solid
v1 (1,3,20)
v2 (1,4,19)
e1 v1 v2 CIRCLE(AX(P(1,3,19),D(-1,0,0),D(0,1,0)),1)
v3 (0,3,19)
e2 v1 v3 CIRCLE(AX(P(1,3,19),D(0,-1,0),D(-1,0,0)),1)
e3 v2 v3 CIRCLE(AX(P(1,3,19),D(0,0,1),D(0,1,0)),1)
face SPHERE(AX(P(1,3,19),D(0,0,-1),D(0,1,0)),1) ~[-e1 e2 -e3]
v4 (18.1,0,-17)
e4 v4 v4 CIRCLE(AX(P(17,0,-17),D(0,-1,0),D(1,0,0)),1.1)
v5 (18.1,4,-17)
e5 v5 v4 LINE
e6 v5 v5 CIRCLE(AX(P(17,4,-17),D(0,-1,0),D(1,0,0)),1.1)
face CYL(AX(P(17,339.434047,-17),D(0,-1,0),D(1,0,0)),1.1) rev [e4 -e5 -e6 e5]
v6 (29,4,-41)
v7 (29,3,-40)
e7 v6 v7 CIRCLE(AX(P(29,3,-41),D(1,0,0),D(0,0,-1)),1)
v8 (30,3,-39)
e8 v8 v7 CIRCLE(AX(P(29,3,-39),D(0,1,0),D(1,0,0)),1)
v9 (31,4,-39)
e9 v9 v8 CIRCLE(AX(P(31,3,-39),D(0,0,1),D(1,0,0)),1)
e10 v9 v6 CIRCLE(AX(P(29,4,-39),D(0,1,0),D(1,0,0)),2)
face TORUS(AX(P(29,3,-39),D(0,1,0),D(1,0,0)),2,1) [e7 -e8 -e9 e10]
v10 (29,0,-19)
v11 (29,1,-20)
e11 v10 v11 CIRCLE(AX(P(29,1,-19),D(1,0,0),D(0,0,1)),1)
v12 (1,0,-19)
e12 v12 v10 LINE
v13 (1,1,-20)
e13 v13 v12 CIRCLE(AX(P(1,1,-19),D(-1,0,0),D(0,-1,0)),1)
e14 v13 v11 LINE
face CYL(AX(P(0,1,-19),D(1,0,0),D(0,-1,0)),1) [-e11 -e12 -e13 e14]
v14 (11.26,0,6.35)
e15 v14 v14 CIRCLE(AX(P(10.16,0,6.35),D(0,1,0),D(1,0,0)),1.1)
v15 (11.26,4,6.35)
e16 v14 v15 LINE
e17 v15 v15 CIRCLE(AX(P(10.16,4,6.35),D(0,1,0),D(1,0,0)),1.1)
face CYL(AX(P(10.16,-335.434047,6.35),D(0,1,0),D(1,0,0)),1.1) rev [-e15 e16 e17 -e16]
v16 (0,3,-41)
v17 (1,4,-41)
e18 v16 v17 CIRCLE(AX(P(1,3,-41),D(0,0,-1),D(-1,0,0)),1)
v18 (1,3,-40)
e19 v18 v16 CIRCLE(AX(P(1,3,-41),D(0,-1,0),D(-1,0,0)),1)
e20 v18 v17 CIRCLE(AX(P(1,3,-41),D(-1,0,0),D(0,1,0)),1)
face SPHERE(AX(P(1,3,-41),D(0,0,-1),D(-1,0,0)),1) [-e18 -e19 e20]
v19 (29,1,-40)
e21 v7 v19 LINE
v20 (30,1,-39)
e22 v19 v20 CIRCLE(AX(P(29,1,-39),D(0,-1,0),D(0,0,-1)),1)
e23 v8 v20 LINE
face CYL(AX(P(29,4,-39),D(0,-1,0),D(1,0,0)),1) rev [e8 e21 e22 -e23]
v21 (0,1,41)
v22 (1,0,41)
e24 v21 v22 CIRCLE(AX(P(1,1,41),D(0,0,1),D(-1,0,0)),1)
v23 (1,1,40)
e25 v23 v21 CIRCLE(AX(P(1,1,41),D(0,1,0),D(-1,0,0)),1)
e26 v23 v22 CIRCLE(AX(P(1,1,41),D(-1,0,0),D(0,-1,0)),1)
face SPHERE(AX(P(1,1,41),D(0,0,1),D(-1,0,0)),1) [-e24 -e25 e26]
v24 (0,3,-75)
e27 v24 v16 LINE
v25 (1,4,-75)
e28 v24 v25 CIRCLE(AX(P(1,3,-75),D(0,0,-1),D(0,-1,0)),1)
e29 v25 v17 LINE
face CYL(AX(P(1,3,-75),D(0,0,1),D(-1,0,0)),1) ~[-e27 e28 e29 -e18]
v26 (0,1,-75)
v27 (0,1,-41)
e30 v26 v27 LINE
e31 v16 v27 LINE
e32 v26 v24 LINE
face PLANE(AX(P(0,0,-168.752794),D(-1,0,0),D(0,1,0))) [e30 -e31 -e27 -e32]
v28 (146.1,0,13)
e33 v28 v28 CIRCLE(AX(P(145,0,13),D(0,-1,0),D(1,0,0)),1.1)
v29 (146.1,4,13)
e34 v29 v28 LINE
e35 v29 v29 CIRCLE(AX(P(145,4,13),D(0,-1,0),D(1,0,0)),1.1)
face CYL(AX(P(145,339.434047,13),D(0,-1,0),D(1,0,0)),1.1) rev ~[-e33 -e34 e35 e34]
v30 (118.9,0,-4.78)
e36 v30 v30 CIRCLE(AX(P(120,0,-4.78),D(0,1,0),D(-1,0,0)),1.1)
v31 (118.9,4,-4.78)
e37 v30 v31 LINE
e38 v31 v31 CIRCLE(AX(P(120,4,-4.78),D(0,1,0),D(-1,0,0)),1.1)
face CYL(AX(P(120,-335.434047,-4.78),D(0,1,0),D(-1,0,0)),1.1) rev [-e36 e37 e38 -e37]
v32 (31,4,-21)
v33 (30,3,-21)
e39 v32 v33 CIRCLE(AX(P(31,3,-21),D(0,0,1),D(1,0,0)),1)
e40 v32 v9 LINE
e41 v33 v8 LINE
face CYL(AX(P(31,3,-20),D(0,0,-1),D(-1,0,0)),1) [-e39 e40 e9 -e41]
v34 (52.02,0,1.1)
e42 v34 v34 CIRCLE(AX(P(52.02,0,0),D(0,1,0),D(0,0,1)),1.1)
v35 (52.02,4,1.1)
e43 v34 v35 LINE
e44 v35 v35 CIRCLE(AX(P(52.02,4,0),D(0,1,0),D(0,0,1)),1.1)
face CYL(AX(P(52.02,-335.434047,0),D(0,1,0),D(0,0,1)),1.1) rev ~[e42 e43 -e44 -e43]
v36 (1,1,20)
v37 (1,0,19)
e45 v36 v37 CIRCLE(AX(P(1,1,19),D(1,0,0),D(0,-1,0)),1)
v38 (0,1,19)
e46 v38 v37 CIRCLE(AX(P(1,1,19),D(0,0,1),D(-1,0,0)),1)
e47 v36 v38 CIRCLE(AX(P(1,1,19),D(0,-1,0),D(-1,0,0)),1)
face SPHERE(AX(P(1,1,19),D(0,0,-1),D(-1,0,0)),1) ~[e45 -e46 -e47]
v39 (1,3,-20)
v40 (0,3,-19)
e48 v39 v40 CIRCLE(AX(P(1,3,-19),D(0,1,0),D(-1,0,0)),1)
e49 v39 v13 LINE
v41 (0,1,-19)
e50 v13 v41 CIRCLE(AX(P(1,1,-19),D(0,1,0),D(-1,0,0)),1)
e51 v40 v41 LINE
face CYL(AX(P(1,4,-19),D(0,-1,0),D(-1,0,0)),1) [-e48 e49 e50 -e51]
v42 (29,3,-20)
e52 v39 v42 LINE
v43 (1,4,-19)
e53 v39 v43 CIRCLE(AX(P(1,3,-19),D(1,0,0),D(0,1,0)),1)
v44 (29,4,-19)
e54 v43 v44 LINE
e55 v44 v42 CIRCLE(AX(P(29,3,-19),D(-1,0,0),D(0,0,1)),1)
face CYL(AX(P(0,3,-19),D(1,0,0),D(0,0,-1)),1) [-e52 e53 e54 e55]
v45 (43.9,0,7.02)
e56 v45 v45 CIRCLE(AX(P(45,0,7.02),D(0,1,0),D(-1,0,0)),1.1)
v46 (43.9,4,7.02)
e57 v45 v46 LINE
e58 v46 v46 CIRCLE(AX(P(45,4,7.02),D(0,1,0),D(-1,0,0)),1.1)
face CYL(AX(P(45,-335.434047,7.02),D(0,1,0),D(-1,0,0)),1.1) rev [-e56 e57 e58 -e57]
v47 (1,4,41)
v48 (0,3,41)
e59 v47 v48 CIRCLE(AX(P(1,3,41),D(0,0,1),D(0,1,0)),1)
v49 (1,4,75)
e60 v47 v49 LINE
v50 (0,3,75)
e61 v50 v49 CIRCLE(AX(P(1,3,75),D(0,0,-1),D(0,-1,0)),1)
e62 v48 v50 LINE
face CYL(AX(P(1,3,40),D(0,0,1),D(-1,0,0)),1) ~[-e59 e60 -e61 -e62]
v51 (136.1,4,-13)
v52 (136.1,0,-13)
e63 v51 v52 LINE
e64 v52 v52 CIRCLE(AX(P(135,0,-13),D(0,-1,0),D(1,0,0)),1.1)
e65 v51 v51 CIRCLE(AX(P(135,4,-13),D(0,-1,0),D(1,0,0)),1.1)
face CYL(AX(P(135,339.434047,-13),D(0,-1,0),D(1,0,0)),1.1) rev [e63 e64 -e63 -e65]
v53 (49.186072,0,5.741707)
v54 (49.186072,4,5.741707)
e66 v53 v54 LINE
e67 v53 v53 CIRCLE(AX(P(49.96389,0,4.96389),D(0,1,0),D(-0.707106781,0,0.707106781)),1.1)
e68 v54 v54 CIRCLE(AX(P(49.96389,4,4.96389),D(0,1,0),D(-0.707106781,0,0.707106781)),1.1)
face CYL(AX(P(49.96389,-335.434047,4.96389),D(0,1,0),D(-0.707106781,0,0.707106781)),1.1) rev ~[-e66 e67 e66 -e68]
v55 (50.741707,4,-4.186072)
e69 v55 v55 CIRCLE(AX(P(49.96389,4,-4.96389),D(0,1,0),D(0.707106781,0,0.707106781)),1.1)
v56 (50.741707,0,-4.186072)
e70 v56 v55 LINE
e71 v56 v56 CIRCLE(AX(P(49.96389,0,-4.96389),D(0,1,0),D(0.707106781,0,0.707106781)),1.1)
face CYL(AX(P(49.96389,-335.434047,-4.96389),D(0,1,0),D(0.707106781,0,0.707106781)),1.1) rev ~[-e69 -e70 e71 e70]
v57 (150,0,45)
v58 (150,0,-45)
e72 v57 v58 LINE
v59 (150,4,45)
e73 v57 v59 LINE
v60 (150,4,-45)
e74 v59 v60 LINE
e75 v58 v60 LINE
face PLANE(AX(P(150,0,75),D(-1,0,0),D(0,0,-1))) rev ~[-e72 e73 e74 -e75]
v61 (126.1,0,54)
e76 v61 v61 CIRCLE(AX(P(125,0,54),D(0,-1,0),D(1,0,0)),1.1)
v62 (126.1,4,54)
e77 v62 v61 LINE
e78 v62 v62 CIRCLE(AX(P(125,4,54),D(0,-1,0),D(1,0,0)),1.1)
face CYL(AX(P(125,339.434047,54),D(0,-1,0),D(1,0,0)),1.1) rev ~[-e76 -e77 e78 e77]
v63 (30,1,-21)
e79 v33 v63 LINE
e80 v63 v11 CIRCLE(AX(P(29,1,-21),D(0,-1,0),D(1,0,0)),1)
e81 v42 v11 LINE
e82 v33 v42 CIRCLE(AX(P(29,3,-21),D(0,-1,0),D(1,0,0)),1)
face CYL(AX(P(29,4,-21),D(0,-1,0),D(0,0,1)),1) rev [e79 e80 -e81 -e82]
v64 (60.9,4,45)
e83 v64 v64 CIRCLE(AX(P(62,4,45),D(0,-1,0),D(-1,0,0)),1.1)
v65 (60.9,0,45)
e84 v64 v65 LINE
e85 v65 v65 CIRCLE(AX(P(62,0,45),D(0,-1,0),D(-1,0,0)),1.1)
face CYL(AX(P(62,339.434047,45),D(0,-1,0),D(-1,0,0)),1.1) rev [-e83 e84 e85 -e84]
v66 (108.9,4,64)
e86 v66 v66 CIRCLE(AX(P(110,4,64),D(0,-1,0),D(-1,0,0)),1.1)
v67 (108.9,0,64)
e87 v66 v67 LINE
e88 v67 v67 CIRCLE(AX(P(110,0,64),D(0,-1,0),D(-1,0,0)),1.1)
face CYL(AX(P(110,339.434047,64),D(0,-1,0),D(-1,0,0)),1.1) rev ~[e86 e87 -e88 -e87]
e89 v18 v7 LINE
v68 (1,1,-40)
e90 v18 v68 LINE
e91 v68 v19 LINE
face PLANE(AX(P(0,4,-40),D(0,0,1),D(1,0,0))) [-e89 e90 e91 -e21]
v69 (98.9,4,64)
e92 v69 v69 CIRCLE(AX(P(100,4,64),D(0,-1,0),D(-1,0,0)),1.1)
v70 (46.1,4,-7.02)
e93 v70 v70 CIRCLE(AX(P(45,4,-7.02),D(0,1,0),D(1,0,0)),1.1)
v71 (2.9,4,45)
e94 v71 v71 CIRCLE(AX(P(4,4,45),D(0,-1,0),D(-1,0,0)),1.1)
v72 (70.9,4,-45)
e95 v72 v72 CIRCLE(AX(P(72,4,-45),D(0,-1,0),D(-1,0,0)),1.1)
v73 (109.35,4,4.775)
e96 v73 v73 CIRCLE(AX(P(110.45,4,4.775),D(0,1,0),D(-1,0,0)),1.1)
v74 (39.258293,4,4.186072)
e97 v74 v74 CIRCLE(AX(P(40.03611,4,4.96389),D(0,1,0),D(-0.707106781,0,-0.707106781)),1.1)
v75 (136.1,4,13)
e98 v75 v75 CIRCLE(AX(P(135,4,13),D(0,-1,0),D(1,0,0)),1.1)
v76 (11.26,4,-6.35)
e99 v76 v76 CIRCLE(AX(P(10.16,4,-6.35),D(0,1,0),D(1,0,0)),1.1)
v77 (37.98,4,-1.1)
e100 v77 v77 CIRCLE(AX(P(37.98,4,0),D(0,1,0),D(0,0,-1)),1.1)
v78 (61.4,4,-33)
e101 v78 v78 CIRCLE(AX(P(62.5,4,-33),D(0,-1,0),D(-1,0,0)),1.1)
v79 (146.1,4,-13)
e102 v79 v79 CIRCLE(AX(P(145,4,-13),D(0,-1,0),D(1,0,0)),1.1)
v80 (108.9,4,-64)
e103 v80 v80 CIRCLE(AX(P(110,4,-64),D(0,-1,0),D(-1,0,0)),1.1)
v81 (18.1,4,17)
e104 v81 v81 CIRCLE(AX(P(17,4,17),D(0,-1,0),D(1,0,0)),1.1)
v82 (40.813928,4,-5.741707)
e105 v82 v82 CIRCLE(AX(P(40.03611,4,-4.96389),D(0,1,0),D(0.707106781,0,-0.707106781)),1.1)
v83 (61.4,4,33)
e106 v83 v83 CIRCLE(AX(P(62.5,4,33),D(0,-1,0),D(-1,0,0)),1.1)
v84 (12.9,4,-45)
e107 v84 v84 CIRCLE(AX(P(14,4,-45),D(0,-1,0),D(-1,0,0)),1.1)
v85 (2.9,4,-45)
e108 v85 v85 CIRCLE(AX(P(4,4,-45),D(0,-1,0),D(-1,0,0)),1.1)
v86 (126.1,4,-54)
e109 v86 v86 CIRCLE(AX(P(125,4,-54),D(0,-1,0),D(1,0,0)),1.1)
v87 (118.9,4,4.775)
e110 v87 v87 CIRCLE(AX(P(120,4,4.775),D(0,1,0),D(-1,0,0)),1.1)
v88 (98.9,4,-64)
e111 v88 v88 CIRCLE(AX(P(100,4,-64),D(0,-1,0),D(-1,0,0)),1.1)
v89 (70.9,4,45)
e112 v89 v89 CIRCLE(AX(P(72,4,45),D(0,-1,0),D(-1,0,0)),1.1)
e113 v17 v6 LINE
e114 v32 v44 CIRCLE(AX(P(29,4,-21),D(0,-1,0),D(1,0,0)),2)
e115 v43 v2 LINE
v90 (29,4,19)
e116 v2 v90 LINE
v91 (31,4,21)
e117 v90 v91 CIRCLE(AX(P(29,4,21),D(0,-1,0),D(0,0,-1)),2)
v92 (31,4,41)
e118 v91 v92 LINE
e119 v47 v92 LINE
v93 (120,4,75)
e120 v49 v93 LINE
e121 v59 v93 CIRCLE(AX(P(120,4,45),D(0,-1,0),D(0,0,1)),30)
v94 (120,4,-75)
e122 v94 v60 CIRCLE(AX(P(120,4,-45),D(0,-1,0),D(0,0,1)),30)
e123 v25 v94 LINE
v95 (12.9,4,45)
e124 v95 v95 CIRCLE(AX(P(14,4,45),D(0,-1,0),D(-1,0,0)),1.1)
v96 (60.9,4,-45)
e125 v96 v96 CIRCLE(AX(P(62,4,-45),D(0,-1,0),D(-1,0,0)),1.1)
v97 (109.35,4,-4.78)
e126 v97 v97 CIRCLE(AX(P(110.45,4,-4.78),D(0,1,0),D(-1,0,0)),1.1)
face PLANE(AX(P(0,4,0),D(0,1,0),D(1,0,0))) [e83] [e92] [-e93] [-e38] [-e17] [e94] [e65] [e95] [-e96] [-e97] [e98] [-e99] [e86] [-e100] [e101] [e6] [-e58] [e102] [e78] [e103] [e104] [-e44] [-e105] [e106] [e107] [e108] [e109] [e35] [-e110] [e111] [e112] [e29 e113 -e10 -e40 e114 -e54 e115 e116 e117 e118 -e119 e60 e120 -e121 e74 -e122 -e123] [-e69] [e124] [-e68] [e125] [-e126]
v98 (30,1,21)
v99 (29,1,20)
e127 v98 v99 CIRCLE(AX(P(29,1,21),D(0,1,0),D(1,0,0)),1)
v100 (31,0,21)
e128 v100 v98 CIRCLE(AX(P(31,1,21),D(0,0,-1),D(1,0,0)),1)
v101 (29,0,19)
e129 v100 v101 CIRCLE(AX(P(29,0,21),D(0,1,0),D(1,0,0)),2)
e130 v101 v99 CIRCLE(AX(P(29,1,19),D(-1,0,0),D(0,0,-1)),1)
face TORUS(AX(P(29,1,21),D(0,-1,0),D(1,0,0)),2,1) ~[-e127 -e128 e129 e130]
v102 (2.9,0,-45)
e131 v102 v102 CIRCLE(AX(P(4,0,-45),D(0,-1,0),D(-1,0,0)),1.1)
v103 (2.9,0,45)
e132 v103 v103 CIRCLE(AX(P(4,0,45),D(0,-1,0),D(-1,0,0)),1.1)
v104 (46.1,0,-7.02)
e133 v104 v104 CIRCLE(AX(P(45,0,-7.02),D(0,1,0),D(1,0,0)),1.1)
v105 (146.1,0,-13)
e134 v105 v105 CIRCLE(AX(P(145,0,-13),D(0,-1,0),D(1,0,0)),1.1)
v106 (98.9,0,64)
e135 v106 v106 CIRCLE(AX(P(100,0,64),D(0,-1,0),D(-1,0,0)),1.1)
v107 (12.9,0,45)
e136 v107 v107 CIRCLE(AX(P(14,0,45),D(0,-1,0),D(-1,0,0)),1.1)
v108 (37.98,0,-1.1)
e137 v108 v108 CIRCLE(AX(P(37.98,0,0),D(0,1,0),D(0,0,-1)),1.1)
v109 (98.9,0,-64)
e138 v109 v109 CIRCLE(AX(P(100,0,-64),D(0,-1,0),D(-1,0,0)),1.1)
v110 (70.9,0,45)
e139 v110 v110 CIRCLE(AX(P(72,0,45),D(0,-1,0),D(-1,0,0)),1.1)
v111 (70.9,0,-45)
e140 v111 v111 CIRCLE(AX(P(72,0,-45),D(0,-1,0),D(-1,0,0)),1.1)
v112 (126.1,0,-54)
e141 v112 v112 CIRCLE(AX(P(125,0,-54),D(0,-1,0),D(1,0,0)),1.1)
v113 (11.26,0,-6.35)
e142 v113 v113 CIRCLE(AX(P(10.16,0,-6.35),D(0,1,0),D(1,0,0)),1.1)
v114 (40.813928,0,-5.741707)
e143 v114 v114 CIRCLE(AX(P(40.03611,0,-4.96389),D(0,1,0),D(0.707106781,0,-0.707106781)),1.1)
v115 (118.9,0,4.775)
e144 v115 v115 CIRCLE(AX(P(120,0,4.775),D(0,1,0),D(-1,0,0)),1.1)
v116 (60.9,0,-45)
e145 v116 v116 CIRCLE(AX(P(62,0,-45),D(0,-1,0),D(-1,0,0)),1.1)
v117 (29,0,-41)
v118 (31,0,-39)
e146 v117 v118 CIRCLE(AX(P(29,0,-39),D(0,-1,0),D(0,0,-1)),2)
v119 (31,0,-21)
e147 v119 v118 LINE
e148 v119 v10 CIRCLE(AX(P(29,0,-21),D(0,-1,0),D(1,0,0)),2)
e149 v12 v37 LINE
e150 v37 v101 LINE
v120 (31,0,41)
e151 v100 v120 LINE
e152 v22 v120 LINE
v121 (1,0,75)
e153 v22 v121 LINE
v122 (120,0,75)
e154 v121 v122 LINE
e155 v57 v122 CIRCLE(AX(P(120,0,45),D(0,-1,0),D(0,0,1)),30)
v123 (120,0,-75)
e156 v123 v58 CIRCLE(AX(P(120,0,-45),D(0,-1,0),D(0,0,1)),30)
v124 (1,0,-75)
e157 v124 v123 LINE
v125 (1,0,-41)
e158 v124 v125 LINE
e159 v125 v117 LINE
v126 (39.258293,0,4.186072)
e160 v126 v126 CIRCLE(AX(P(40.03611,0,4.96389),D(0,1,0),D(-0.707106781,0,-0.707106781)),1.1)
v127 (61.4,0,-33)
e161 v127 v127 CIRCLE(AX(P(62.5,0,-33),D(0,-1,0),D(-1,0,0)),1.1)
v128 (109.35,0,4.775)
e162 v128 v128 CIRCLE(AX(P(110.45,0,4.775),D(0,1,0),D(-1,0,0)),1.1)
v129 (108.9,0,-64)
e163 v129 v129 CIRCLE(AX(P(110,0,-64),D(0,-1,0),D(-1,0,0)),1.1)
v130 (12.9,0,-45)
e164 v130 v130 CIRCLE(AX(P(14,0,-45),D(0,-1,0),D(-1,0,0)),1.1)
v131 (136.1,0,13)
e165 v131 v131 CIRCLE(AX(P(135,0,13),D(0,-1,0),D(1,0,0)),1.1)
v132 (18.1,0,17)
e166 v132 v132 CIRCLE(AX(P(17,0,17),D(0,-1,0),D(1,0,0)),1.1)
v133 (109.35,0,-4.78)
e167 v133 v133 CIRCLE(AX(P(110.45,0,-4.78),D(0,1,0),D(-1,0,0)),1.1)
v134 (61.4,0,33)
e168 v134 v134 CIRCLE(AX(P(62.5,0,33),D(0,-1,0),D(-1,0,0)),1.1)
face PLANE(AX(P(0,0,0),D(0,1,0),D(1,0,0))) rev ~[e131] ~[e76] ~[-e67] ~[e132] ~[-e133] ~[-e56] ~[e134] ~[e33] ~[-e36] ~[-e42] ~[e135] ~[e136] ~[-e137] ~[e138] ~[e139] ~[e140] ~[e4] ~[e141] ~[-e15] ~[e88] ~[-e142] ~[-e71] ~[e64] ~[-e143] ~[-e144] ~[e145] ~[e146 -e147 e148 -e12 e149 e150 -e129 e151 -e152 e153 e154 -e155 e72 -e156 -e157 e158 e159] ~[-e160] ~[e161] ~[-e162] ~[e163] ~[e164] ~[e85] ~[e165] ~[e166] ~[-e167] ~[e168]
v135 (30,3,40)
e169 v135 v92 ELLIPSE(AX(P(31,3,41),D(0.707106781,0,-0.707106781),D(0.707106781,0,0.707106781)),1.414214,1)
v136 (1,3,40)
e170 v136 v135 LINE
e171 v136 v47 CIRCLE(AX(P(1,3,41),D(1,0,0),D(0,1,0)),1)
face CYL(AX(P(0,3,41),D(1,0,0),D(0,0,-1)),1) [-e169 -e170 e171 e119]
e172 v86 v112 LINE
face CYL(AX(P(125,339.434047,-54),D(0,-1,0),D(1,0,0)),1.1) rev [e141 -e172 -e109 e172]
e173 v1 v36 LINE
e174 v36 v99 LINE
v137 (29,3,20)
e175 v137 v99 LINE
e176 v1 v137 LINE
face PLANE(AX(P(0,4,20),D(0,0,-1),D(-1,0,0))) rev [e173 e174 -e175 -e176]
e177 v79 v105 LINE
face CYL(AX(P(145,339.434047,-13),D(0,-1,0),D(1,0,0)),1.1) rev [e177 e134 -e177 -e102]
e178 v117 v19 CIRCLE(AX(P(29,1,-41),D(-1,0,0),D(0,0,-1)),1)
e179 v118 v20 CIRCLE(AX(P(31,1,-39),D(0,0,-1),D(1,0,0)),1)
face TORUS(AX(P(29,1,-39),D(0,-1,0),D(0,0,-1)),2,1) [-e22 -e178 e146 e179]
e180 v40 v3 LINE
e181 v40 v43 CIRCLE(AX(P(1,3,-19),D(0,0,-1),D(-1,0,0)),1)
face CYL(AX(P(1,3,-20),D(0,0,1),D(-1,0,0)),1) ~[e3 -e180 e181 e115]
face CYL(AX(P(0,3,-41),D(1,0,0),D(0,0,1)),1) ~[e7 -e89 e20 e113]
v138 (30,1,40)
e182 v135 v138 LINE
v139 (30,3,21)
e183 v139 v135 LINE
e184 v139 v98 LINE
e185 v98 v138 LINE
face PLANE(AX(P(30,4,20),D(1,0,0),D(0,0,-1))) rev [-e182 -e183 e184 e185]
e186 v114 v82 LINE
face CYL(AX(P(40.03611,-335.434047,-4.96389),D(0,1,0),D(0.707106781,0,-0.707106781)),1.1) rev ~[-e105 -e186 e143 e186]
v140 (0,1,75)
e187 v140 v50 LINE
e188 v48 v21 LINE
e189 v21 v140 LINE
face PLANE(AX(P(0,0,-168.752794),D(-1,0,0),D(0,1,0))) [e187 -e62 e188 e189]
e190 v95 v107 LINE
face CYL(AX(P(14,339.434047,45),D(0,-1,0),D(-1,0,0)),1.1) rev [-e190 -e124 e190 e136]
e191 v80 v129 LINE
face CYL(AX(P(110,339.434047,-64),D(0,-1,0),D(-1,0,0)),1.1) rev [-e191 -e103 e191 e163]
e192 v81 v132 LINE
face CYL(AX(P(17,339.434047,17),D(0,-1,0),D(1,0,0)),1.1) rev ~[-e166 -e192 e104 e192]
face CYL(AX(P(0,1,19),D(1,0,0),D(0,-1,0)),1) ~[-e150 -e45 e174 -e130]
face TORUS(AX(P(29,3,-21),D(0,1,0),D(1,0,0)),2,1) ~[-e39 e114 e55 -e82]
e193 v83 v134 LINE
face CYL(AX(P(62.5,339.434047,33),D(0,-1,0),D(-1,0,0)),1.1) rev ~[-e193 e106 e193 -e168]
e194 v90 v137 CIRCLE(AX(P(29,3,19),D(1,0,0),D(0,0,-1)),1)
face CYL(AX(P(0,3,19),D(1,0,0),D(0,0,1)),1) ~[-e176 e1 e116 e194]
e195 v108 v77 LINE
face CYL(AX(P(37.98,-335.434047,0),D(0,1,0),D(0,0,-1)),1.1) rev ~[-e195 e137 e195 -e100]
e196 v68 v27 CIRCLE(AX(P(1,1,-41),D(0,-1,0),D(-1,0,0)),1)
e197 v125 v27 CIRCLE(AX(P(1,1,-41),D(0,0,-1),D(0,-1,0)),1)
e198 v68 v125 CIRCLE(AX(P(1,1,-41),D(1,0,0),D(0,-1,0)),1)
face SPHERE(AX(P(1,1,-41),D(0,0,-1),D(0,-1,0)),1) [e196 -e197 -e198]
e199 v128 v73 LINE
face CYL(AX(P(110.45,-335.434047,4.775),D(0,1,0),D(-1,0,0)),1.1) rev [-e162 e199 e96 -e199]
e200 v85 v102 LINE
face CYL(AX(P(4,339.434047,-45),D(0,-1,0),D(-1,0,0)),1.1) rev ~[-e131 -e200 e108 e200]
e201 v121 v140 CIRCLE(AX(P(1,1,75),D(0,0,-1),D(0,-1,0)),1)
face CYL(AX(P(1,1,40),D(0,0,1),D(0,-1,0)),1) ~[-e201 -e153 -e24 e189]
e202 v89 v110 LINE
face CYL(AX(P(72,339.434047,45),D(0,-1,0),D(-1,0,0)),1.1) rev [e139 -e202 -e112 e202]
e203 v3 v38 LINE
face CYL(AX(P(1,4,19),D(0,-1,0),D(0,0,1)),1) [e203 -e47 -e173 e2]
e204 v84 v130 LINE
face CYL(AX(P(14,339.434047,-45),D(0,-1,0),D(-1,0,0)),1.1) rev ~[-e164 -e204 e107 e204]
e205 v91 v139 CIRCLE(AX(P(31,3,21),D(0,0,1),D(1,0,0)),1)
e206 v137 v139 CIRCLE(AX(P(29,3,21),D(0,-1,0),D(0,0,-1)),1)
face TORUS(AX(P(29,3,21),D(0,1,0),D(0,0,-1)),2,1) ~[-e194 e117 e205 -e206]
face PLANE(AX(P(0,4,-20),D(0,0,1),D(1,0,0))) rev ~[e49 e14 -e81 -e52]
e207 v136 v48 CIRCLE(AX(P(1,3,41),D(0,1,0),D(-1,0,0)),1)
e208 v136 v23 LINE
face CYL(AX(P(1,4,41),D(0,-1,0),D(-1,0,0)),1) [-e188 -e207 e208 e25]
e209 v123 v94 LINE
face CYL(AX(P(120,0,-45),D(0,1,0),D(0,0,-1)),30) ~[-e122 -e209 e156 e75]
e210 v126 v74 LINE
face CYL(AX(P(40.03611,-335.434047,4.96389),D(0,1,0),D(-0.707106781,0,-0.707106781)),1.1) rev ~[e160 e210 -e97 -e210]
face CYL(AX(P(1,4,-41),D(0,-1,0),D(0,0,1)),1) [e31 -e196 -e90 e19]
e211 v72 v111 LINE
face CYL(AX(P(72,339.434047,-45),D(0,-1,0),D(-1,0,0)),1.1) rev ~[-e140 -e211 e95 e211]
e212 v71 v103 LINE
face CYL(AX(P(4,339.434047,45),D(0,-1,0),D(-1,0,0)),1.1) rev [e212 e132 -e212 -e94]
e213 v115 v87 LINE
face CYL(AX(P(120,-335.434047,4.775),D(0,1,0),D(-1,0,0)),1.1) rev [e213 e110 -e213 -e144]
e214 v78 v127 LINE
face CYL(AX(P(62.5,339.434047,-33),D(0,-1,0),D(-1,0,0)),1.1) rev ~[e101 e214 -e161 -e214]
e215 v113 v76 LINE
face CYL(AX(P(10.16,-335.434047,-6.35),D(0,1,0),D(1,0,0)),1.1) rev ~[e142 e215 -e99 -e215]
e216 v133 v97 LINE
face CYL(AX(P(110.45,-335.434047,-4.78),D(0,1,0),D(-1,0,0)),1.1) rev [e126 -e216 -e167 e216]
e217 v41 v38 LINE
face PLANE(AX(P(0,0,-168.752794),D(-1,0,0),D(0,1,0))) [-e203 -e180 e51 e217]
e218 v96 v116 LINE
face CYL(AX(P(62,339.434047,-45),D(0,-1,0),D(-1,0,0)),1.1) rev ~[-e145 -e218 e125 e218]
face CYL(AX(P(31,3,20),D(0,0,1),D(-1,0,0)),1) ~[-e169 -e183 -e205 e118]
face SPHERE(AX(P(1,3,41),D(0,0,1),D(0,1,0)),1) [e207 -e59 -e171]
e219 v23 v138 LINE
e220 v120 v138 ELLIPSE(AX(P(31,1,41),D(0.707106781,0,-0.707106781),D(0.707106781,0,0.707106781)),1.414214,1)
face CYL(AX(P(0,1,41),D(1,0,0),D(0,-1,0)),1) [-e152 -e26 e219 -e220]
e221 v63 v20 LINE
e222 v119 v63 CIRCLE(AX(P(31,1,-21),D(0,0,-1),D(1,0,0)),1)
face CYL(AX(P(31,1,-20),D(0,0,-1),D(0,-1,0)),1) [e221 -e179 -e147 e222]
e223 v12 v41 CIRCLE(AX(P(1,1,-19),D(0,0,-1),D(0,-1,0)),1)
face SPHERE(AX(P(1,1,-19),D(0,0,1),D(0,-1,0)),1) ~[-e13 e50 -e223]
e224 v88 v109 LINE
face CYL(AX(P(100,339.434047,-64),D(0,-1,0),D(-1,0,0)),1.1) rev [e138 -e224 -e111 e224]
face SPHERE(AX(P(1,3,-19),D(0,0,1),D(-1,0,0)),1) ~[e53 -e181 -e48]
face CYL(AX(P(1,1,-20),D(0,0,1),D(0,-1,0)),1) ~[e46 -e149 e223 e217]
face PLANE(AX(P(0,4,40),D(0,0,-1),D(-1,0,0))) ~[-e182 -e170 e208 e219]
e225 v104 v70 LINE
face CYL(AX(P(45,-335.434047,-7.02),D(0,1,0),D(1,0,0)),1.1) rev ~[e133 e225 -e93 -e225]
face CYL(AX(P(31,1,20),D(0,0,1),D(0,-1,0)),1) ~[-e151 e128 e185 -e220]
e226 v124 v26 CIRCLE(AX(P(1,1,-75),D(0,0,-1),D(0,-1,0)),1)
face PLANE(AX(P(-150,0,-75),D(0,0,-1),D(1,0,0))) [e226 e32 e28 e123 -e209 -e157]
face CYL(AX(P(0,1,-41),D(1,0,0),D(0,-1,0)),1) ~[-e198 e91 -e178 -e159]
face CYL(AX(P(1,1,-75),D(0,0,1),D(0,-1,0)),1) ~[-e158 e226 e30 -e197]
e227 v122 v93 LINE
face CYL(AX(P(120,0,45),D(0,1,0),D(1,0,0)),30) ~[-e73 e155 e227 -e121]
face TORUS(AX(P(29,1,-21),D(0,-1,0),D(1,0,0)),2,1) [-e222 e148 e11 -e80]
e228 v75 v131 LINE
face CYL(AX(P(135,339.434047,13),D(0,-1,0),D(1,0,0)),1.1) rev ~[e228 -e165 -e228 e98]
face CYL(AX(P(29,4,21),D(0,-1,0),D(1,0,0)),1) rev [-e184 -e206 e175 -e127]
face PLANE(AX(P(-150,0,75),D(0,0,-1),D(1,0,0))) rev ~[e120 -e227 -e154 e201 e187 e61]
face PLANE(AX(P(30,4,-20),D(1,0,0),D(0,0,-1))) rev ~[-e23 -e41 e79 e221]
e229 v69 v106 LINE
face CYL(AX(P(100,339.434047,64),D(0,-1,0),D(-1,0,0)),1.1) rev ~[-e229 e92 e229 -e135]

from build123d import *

# Parameters (mm, degrees)
SKETCH_1_W                            = 300
SKETCH_1_H                            = 150
EXTRUDE_1_DEPTH                       = 4
FILLET_4_R                            = 30
FILLET_5_R                            = 30
FILLET_6_R                            = 30
FILLET_7_R                            = 30
HOLE_WIZARD_2_2_2_2_1_D               = 2.2
PATTERN_CIRCULAR_1_COUNT              = 8
MIRROR_1_COPY_1_D                     = 2.2
MIRROR_1_COPY_2_D                     = 2.2
MIRROR_1_COPY_3_D                     = 2.2
MIRROR_1_COPY_4_D                     = 2.2
MIRROR_1_COPY_5_D                     = 2.2
MIRROR_1_COPY_6_D                     = 2.2
MIRROR_1_COPY_7_D                     = 2.2
HOLE_WIZARD_2_2_2_2_2_D               = 2.2
HOLE_WIZARD_2_2_2_2_4_D               = 2.2
F_2_2_2_2_DIAMETER_HOLE1_D            = 2.2
MIRROR_5_AT_THE_SECOND_PLANE_COPY_1_D = 2.2
HOLE_WIZARD_2_2_2_2_6_D               = 2.2
F_2_2_2_2_DIAMETER_HOLE2_D            = 2.2
MIRROR_6_AT_THE_SECOND_PLANE_COPY_1_D = 2.2
F_2_2_2_2_DIAMETER_HOLE3_D            = 2.2
F_2_2_2_2_DIAMETER_HOLE4_D            = 2.2
MIRROR_8_AT_THE_SECOND_PLANE_COPY_1_D = 2.2
F_2_2_2_2_DIAMETER_HOLE5_D            = 2.2
MIRROR_9_AT_THE_SECOND_PLANE_COPY_1_D = 2.2
CUT_EXTRUDE_3_DEPTH                   = 168.752794314
CUT_EXTRUDE_3_DEPTH_BACK              = 168.752794314
SKETCH_25_W                           = 150
SKETCH_25_H                           = 4
SKETCH_28_W                           = 30
SKETCH_28_H                           = 20
CUT_EXTRUDE_4_DEPTH                   = 168.752794314
FILLET_8_R                            = 1


with BuildPart() as part:
    # 草图1 → 凸台-拉伸1 (new body)
    with BuildSketch(Plane(origin=(0, 0, 0), x_dir=(1, 0, 0), z_dir=(0, 1, 0))):
        Rectangle(SKETCH_1_W, SKETCH_1_H)
    extrude(amount=EXTRUDE_1_DEPTH)

    # 圆角4
    fillet_4_edges = [part.edges().sort_by_distance(p)[0] for p in [
        (-150, 2, 75),
    ]]
    fillet(fillet_4_edges, radius=FILLET_4_R)

    # 圆角5
    fillet_5_edges = [part.edges().sort_by_distance(p)[0] for p in [
        (-150, 2, -75),
    ]]
    fillet(fillet_5_edges, radius=FILLET_5_R)

    # 圆角6
    fillet_6_edges = [part.edges().sort_by_distance(p)[0] for p in [
        (150, 2, -75),
    ]]
    fillet(fillet_6_edges, radius=FILLET_6_R)

    # 圆角7
    fillet_7_edges = [part.edges().sort_by_distance(p)[0] for p in [
        (150, 2, 75),
    ]]
    fillet(fillet_7_edges, radius=FILLET_7_R)

    # Ø2.2 (2.2) 直径孔1 (through all)
    with Locations(Plane(origin=(0, 0, 0), x_dir=(-1, 0, 0), z_dir=(0, -1, 0))):
        with Locations((45, -7.02)):
            hole_wizard_2_2_2_2_1 = Hole(HOLE_WIZARD_2_2_2_2_1_D / 2)

    # 阵列(圆周)1: Ø2.2 (2.2) 直径孔1 ×8 about axis
    pattern_circular_1_axis = Axis((-45, 0, 0), (0, 1, 0))
    for i in range(1, PATTERN_CIRCULAR_1_COUNT):
        add(hole_wizard_2_2_2_2_1.rotate(pattern_circular_1_axis, i * 360 / PATTERN_CIRCULAR_1_COUNT), mode=Mode.SUBTRACT)

    # 镜向1: Ø2.2 (2.2) 直径孔1 across plane
    add(hole_wizard_2_2_2_2_1.mirror(Plane(origin=(0, 0, 0), x_dir=(0, 0, 1), z_dir=(1, 0, 0))), mode=Mode.SUBTRACT)

    # 镜向1 copy 1 (through all)
    with Locations(Plane(origin=(13.180194847, 0, -31.819805153), x_dir=(0.7071067811865476, 0, 0.7071067811865475), z_dir=(0, -1, 0))):
        with Locations((45, 7.02)):
            Hole(MIRROR_1_COPY_1_D / 2)

    # 镜向1 copy 2 (through all)
    with Locations(Plane(origin=(45, 0, -45), x_dir=(0, 0, 1), z_dir=(0, -1, 0))):
        with Locations((45, 7.02)):
            Hole(MIRROR_1_COPY_2_D / 2)

    # 镜向1 copy 3 (through all)
    with Locations(Plane(origin=(76.819805153, 0, -31.819805153), x_dir=(-0.7071067811865475, 0, 0.7071067811865476), z_dir=(0, -1, 0))):
        with Locations((45, 7.02)):
            Hole(MIRROR_1_COPY_3_D / 2)

    # 镜向1 copy 4 (through all)
    with Locations(Plane(origin=(90, 0, 0), x_dir=(-1, 0, 0), z_dir=(0, -1, 0))):
        with Locations((45, 7.02)):
            Hole(MIRROR_1_COPY_4_D / 2)

    # 镜向1 copy 5 (through all)
    with Locations(Plane(origin=(76.819805153, 0, 31.819805153), x_dir=(-0.7071067811865477, 0, -0.7071067811865475), z_dir=(0, -1, 0))):
        with Locations((45, 7.02)):
            Hole(MIRROR_1_COPY_5_D / 2)

    # 镜向1 copy 6 (through all)
    with Locations(Plane(origin=(45, 0, 45), x_dir=(0, 0, -1), z_dir=(0, -1, 0))):
        with Locations((45, 7.02)):
            Hole(MIRROR_1_COPY_6_D / 2)

    # 镜向1 copy 7 (through all)
    with Locations(Plane(origin=(13.180194847, 0, 31.819805153), x_dir=(0.7071067811865474, 0, -0.7071067811865477), z_dir=(0, -1, 0))):
        with Locations((45, 7.02)):
            Hole(MIRROR_1_COPY_7_D / 2)

    # Ø2.2 (2.2) 直径孔2 (through all)
    with Locations(Plane(origin=(0, 0, 0), x_dir=(-1, 0, 0), z_dir=(0, -1, 0))):
        with Locations((120, 4.78), (120, -4.775), (110.45, -4.775), (110.45, 4.78)):
            hole_wizard_2_2_2_2_2 = Hole(HOLE_WIZARD_2_2_2_2_2_D / 2)

    # 镜向2: Ø2.2 (2.2) 直径孔2 across plane
    add(hole_wizard_2_2_2_2_2.mirror(Plane(origin=(0, 0, 0), x_dir=(0, 0, 1), z_dir=(1, 0, 0))), mode=Mode.SUBTRACT)

    # Ø2.2 (2.2) 直径孔4 (through all)
    with Locations(Plane(origin=(0, 4, 0), x_dir=(1, 0, 0), z_dir=(0, 1, 0))):
        with Locations((100, -64), (110, -64), (-100, -64), (-110, -64)):
            hole_wizard_2_2_2_2_4 = Hole(HOLE_WIZARD_2_2_2_2_4_D / 2)

    # 镜向4: Ø2.2 (2.2) 直径孔4 across plane
    add(hole_wizard_2_2_2_2_4.mirror(Plane.XY), mode=Mode.SUBTRACT)

    # Ø2.2 (2.2) Diameter Hole1 (through all)
    with Locations(Plane(origin=(0, 4, 0), x_dir=(1, 0, 0), z_dir=(0, 1, 0))):
        with Locations((-125, 54)):
            f_2_2_2_2_diameter_hole1 = Hole(F_2_2_2_2_DIAMETER_HOLE1_D / 2)

    # 镜向5: Ø2.2 (2.2) Diameter Hole1 across plane
    add(f_2_2_2_2_diameter_hole1.mirror(Plane(origin=(0, 0, 0), x_dir=(0, 0, 1), z_dir=(1, 0, 0))), mode=Mode.SUBTRACT)

    # 镜向5 at the second plane: Ø2.2 (2.2) Diameter Hole1 across plane
    add(f_2_2_2_2_diameter_hole1.mirror(Plane.XY), mode=Mode.SUBTRACT)

    # 镜向5 at the second plane copy 1 (through all)
    with Locations(Plane(origin=(0, 4, 0), x_dir=(-1, 0, 0), z_dir=(0, 1, 0))):
        with Locations((-125, 54)):
            Hole(MIRROR_5_AT_THE_SECOND_PLANE_COPY_1_D / 2)

    # Ø2.2 (2.2) 直径孔6 (through all)
    with Locations(Plane(origin=(0, 4, 0), x_dir=(1, 0, 0), z_dir=(0, 1, 0))):
        with Locations((-62.5, 33), (-62.5, -33), (62.5, -33), (62.5, 33)):
            Hole(HOLE_WIZARD_2_2_2_2_6_D / 2)

    # Ø2.2 (2.2) Diameter Hole2 (through all)
    with Locations(Plane(origin=(0, 4, 0), x_dir=(1, 0, 0), z_dir=(0, 1, 0))):
        with Locations((-145, 13), (-135, 13)):
            f_2_2_2_2_diameter_hole2 = Hole(F_2_2_2_2_DIAMETER_HOLE2_D / 2)

    # 镜向6: Ø2.2 (2.2) Diameter Hole2 across plane
    add(f_2_2_2_2_diameter_hole2.mirror(Plane(origin=(0, 0, 0), x_dir=(0, 0, 1), z_dir=(1, 0, 0))), mode=Mode.SUBTRACT)

    # 镜向6 at the second plane: Ø2.2 (2.2) Diameter Hole2 across plane
    add(f_2_2_2_2_diameter_hole2.mirror(Plane.XY), mode=Mode.SUBTRACT)

    # 镜向6 at the second plane copy 1 (through all)
    with Locations(Plane(origin=(0, 4, 0), x_dir=(-1, 0, 0), z_dir=(0, 1, 0))):
        with Locations((-145, 13), (-135, 13)):
            Hole(MIRROR_6_AT_THE_SECOND_PLANE_COPY_1_D / 2)

    # Ø2.2 (2.2) Diameter Hole3 (through all)
    with Locations(Plane(origin=(0, 4, 0), x_dir=(1, 0, 0), z_dir=(0, 1, 0))):
        with Locations((-80, 45), (-70, 45), (-46, 45), (-36, 45), (4, 45), (14, 45), (62, 45), (72, 45)):
            f_2_2_2_2_diameter_hole3 = Hole(F_2_2_2_2_DIAMETER_HOLE3_D / 2)

    # 镜向7: Ø2.2 (2.2) Diameter Hole3 across plane
    add(f_2_2_2_2_diameter_hole3.mirror(Plane.XY), mode=Mode.SUBTRACT)

    # Ø2.2 (2.2) Diameter Hole4 (through all)
    with Locations(Plane.XZ):
        with Locations((-10.16, 6.35)):
            f_2_2_2_2_diameter_hole4 = Hole(F_2_2_2_2_DIAMETER_HOLE4_D / 2)

    # 镜向8: Ø2.2 (2.2) Diameter Hole4 across plane
    add(f_2_2_2_2_diameter_hole4.mirror(Plane.XY), mode=Mode.SUBTRACT)

    # 镜向8 at the second plane: Ø2.2 (2.2) Diameter Hole4 across plane
    add(f_2_2_2_2_diameter_hole4.mirror(Plane(origin=(0, 0, 0), x_dir=(0, 0, 1), z_dir=(1, 0, 0))), mode=Mode.SUBTRACT)

    # 镜向8 at the second plane copy 1 (through all)
    with Locations(Plane(origin=(0, 0, 0), x_dir=(-1, 0, 0), z_dir=(0, -1, 0))):
        with Locations((-10.16, 6.35)):
            Hole(MIRROR_8_AT_THE_SECOND_PLANE_COPY_1_D / 2)

    # Ø2.2 (2.2) Diameter Hole5 (through all)
    with Locations(Plane(origin=(0, 4, 0), x_dir=(1, 0, 0), z_dir=(0, 1, 0))):
        with Locations((-17, 17)):
            f_2_2_2_2_diameter_hole5 = Hole(F_2_2_2_2_DIAMETER_HOLE5_D / 2)

    # 镜向9: Ø2.2 (2.2) Diameter Hole5 across plane
    add(f_2_2_2_2_diameter_hole5.mirror(Plane.XY), mode=Mode.SUBTRACT)

    # 镜向9 at the second plane: Ø2.2 (2.2) Diameter Hole5 across plane
    add(f_2_2_2_2_diameter_hole5.mirror(Plane(origin=(0, 0, 0), x_dir=(0, 0, 1), z_dir=(1, 0, 0))), mode=Mode.SUBTRACT)

    # 镜向9 at the second plane copy 1 (through all)
    with Locations(Plane(origin=(0, 4, 0), x_dir=(-1, 0, 0), z_dir=(0, 1, 0))):
        with Locations((-17, 17)):
            Hole(MIRROR_9_AT_THE_SECOND_PLANE_COPY_1_D / 2)

    # 草图25 → 切除-拉伸3 (cut, two sides: drawn at the far end of the back side and taken through both)
    with BuildSketch(Plane.XY.offset(-CUT_EXTRUDE_3_DEPTH_BACK)):
        with Locations((-75, 2)):
            Rectangle(SKETCH_25_W, SKETCH_25_H)
    extrude(amount=CUT_EXTRUDE_3_DEPTH + CUT_EXTRUDE_3_DEPTH_BACK, mode=Mode.SUBTRACT)

    # 草图28 → 切除-拉伸4 (cut, through all)
    with BuildSketch(Plane(origin=(0, 4, 0), x_dir=(1, 0, 0), z_dir=(0, 1, 0))):
        with Locations((15, 30)):
            Rectangle(SKETCH_28_W, SKETCH_28_H)
    cut_extrude_4 = extrude(amount=-CUT_EXTRUDE_4_DEPTH, mode=Mode.SUBTRACT)

    # 镜向10: 切除-拉伸4 across plane
    add(cut_extrude_4.mirror(Plane.XY), mode=Mode.SUBTRACT)

    # 圆角8
    fillet_8_edges = [part.edges().sort_by_distance(p)[0] for p in [
        (0, 0, -57.5),
        (0, 4, -57.5),
        (0, 4, 0),
        (0, 0, 0),
        (30, 0, -30),
        (30, 2, -40),
        (15, 0, -20),
        (30, 2, -20),
        (0, 2, -20),
        (15, 0, -40),
        (0, 2, -40),
        (30, 4, -30),
        (15, 4, -40),
        (15, 4, -20),
        (0, 4, 57.5),
        (0, 0, 57.5),
        (30, 4, 30),
        (30, 2, 20),
        (15, 4, 40),
        (0, 2, 40),
        (15, 4, 20),
        (0, 2, 20),
        (30, 0, 30),
        (15, 0, 40),
        (15, 0, 20),
    ]]
    fillet(fillet_8_edges, radius=FILLET_8_R)


solid = part.part
